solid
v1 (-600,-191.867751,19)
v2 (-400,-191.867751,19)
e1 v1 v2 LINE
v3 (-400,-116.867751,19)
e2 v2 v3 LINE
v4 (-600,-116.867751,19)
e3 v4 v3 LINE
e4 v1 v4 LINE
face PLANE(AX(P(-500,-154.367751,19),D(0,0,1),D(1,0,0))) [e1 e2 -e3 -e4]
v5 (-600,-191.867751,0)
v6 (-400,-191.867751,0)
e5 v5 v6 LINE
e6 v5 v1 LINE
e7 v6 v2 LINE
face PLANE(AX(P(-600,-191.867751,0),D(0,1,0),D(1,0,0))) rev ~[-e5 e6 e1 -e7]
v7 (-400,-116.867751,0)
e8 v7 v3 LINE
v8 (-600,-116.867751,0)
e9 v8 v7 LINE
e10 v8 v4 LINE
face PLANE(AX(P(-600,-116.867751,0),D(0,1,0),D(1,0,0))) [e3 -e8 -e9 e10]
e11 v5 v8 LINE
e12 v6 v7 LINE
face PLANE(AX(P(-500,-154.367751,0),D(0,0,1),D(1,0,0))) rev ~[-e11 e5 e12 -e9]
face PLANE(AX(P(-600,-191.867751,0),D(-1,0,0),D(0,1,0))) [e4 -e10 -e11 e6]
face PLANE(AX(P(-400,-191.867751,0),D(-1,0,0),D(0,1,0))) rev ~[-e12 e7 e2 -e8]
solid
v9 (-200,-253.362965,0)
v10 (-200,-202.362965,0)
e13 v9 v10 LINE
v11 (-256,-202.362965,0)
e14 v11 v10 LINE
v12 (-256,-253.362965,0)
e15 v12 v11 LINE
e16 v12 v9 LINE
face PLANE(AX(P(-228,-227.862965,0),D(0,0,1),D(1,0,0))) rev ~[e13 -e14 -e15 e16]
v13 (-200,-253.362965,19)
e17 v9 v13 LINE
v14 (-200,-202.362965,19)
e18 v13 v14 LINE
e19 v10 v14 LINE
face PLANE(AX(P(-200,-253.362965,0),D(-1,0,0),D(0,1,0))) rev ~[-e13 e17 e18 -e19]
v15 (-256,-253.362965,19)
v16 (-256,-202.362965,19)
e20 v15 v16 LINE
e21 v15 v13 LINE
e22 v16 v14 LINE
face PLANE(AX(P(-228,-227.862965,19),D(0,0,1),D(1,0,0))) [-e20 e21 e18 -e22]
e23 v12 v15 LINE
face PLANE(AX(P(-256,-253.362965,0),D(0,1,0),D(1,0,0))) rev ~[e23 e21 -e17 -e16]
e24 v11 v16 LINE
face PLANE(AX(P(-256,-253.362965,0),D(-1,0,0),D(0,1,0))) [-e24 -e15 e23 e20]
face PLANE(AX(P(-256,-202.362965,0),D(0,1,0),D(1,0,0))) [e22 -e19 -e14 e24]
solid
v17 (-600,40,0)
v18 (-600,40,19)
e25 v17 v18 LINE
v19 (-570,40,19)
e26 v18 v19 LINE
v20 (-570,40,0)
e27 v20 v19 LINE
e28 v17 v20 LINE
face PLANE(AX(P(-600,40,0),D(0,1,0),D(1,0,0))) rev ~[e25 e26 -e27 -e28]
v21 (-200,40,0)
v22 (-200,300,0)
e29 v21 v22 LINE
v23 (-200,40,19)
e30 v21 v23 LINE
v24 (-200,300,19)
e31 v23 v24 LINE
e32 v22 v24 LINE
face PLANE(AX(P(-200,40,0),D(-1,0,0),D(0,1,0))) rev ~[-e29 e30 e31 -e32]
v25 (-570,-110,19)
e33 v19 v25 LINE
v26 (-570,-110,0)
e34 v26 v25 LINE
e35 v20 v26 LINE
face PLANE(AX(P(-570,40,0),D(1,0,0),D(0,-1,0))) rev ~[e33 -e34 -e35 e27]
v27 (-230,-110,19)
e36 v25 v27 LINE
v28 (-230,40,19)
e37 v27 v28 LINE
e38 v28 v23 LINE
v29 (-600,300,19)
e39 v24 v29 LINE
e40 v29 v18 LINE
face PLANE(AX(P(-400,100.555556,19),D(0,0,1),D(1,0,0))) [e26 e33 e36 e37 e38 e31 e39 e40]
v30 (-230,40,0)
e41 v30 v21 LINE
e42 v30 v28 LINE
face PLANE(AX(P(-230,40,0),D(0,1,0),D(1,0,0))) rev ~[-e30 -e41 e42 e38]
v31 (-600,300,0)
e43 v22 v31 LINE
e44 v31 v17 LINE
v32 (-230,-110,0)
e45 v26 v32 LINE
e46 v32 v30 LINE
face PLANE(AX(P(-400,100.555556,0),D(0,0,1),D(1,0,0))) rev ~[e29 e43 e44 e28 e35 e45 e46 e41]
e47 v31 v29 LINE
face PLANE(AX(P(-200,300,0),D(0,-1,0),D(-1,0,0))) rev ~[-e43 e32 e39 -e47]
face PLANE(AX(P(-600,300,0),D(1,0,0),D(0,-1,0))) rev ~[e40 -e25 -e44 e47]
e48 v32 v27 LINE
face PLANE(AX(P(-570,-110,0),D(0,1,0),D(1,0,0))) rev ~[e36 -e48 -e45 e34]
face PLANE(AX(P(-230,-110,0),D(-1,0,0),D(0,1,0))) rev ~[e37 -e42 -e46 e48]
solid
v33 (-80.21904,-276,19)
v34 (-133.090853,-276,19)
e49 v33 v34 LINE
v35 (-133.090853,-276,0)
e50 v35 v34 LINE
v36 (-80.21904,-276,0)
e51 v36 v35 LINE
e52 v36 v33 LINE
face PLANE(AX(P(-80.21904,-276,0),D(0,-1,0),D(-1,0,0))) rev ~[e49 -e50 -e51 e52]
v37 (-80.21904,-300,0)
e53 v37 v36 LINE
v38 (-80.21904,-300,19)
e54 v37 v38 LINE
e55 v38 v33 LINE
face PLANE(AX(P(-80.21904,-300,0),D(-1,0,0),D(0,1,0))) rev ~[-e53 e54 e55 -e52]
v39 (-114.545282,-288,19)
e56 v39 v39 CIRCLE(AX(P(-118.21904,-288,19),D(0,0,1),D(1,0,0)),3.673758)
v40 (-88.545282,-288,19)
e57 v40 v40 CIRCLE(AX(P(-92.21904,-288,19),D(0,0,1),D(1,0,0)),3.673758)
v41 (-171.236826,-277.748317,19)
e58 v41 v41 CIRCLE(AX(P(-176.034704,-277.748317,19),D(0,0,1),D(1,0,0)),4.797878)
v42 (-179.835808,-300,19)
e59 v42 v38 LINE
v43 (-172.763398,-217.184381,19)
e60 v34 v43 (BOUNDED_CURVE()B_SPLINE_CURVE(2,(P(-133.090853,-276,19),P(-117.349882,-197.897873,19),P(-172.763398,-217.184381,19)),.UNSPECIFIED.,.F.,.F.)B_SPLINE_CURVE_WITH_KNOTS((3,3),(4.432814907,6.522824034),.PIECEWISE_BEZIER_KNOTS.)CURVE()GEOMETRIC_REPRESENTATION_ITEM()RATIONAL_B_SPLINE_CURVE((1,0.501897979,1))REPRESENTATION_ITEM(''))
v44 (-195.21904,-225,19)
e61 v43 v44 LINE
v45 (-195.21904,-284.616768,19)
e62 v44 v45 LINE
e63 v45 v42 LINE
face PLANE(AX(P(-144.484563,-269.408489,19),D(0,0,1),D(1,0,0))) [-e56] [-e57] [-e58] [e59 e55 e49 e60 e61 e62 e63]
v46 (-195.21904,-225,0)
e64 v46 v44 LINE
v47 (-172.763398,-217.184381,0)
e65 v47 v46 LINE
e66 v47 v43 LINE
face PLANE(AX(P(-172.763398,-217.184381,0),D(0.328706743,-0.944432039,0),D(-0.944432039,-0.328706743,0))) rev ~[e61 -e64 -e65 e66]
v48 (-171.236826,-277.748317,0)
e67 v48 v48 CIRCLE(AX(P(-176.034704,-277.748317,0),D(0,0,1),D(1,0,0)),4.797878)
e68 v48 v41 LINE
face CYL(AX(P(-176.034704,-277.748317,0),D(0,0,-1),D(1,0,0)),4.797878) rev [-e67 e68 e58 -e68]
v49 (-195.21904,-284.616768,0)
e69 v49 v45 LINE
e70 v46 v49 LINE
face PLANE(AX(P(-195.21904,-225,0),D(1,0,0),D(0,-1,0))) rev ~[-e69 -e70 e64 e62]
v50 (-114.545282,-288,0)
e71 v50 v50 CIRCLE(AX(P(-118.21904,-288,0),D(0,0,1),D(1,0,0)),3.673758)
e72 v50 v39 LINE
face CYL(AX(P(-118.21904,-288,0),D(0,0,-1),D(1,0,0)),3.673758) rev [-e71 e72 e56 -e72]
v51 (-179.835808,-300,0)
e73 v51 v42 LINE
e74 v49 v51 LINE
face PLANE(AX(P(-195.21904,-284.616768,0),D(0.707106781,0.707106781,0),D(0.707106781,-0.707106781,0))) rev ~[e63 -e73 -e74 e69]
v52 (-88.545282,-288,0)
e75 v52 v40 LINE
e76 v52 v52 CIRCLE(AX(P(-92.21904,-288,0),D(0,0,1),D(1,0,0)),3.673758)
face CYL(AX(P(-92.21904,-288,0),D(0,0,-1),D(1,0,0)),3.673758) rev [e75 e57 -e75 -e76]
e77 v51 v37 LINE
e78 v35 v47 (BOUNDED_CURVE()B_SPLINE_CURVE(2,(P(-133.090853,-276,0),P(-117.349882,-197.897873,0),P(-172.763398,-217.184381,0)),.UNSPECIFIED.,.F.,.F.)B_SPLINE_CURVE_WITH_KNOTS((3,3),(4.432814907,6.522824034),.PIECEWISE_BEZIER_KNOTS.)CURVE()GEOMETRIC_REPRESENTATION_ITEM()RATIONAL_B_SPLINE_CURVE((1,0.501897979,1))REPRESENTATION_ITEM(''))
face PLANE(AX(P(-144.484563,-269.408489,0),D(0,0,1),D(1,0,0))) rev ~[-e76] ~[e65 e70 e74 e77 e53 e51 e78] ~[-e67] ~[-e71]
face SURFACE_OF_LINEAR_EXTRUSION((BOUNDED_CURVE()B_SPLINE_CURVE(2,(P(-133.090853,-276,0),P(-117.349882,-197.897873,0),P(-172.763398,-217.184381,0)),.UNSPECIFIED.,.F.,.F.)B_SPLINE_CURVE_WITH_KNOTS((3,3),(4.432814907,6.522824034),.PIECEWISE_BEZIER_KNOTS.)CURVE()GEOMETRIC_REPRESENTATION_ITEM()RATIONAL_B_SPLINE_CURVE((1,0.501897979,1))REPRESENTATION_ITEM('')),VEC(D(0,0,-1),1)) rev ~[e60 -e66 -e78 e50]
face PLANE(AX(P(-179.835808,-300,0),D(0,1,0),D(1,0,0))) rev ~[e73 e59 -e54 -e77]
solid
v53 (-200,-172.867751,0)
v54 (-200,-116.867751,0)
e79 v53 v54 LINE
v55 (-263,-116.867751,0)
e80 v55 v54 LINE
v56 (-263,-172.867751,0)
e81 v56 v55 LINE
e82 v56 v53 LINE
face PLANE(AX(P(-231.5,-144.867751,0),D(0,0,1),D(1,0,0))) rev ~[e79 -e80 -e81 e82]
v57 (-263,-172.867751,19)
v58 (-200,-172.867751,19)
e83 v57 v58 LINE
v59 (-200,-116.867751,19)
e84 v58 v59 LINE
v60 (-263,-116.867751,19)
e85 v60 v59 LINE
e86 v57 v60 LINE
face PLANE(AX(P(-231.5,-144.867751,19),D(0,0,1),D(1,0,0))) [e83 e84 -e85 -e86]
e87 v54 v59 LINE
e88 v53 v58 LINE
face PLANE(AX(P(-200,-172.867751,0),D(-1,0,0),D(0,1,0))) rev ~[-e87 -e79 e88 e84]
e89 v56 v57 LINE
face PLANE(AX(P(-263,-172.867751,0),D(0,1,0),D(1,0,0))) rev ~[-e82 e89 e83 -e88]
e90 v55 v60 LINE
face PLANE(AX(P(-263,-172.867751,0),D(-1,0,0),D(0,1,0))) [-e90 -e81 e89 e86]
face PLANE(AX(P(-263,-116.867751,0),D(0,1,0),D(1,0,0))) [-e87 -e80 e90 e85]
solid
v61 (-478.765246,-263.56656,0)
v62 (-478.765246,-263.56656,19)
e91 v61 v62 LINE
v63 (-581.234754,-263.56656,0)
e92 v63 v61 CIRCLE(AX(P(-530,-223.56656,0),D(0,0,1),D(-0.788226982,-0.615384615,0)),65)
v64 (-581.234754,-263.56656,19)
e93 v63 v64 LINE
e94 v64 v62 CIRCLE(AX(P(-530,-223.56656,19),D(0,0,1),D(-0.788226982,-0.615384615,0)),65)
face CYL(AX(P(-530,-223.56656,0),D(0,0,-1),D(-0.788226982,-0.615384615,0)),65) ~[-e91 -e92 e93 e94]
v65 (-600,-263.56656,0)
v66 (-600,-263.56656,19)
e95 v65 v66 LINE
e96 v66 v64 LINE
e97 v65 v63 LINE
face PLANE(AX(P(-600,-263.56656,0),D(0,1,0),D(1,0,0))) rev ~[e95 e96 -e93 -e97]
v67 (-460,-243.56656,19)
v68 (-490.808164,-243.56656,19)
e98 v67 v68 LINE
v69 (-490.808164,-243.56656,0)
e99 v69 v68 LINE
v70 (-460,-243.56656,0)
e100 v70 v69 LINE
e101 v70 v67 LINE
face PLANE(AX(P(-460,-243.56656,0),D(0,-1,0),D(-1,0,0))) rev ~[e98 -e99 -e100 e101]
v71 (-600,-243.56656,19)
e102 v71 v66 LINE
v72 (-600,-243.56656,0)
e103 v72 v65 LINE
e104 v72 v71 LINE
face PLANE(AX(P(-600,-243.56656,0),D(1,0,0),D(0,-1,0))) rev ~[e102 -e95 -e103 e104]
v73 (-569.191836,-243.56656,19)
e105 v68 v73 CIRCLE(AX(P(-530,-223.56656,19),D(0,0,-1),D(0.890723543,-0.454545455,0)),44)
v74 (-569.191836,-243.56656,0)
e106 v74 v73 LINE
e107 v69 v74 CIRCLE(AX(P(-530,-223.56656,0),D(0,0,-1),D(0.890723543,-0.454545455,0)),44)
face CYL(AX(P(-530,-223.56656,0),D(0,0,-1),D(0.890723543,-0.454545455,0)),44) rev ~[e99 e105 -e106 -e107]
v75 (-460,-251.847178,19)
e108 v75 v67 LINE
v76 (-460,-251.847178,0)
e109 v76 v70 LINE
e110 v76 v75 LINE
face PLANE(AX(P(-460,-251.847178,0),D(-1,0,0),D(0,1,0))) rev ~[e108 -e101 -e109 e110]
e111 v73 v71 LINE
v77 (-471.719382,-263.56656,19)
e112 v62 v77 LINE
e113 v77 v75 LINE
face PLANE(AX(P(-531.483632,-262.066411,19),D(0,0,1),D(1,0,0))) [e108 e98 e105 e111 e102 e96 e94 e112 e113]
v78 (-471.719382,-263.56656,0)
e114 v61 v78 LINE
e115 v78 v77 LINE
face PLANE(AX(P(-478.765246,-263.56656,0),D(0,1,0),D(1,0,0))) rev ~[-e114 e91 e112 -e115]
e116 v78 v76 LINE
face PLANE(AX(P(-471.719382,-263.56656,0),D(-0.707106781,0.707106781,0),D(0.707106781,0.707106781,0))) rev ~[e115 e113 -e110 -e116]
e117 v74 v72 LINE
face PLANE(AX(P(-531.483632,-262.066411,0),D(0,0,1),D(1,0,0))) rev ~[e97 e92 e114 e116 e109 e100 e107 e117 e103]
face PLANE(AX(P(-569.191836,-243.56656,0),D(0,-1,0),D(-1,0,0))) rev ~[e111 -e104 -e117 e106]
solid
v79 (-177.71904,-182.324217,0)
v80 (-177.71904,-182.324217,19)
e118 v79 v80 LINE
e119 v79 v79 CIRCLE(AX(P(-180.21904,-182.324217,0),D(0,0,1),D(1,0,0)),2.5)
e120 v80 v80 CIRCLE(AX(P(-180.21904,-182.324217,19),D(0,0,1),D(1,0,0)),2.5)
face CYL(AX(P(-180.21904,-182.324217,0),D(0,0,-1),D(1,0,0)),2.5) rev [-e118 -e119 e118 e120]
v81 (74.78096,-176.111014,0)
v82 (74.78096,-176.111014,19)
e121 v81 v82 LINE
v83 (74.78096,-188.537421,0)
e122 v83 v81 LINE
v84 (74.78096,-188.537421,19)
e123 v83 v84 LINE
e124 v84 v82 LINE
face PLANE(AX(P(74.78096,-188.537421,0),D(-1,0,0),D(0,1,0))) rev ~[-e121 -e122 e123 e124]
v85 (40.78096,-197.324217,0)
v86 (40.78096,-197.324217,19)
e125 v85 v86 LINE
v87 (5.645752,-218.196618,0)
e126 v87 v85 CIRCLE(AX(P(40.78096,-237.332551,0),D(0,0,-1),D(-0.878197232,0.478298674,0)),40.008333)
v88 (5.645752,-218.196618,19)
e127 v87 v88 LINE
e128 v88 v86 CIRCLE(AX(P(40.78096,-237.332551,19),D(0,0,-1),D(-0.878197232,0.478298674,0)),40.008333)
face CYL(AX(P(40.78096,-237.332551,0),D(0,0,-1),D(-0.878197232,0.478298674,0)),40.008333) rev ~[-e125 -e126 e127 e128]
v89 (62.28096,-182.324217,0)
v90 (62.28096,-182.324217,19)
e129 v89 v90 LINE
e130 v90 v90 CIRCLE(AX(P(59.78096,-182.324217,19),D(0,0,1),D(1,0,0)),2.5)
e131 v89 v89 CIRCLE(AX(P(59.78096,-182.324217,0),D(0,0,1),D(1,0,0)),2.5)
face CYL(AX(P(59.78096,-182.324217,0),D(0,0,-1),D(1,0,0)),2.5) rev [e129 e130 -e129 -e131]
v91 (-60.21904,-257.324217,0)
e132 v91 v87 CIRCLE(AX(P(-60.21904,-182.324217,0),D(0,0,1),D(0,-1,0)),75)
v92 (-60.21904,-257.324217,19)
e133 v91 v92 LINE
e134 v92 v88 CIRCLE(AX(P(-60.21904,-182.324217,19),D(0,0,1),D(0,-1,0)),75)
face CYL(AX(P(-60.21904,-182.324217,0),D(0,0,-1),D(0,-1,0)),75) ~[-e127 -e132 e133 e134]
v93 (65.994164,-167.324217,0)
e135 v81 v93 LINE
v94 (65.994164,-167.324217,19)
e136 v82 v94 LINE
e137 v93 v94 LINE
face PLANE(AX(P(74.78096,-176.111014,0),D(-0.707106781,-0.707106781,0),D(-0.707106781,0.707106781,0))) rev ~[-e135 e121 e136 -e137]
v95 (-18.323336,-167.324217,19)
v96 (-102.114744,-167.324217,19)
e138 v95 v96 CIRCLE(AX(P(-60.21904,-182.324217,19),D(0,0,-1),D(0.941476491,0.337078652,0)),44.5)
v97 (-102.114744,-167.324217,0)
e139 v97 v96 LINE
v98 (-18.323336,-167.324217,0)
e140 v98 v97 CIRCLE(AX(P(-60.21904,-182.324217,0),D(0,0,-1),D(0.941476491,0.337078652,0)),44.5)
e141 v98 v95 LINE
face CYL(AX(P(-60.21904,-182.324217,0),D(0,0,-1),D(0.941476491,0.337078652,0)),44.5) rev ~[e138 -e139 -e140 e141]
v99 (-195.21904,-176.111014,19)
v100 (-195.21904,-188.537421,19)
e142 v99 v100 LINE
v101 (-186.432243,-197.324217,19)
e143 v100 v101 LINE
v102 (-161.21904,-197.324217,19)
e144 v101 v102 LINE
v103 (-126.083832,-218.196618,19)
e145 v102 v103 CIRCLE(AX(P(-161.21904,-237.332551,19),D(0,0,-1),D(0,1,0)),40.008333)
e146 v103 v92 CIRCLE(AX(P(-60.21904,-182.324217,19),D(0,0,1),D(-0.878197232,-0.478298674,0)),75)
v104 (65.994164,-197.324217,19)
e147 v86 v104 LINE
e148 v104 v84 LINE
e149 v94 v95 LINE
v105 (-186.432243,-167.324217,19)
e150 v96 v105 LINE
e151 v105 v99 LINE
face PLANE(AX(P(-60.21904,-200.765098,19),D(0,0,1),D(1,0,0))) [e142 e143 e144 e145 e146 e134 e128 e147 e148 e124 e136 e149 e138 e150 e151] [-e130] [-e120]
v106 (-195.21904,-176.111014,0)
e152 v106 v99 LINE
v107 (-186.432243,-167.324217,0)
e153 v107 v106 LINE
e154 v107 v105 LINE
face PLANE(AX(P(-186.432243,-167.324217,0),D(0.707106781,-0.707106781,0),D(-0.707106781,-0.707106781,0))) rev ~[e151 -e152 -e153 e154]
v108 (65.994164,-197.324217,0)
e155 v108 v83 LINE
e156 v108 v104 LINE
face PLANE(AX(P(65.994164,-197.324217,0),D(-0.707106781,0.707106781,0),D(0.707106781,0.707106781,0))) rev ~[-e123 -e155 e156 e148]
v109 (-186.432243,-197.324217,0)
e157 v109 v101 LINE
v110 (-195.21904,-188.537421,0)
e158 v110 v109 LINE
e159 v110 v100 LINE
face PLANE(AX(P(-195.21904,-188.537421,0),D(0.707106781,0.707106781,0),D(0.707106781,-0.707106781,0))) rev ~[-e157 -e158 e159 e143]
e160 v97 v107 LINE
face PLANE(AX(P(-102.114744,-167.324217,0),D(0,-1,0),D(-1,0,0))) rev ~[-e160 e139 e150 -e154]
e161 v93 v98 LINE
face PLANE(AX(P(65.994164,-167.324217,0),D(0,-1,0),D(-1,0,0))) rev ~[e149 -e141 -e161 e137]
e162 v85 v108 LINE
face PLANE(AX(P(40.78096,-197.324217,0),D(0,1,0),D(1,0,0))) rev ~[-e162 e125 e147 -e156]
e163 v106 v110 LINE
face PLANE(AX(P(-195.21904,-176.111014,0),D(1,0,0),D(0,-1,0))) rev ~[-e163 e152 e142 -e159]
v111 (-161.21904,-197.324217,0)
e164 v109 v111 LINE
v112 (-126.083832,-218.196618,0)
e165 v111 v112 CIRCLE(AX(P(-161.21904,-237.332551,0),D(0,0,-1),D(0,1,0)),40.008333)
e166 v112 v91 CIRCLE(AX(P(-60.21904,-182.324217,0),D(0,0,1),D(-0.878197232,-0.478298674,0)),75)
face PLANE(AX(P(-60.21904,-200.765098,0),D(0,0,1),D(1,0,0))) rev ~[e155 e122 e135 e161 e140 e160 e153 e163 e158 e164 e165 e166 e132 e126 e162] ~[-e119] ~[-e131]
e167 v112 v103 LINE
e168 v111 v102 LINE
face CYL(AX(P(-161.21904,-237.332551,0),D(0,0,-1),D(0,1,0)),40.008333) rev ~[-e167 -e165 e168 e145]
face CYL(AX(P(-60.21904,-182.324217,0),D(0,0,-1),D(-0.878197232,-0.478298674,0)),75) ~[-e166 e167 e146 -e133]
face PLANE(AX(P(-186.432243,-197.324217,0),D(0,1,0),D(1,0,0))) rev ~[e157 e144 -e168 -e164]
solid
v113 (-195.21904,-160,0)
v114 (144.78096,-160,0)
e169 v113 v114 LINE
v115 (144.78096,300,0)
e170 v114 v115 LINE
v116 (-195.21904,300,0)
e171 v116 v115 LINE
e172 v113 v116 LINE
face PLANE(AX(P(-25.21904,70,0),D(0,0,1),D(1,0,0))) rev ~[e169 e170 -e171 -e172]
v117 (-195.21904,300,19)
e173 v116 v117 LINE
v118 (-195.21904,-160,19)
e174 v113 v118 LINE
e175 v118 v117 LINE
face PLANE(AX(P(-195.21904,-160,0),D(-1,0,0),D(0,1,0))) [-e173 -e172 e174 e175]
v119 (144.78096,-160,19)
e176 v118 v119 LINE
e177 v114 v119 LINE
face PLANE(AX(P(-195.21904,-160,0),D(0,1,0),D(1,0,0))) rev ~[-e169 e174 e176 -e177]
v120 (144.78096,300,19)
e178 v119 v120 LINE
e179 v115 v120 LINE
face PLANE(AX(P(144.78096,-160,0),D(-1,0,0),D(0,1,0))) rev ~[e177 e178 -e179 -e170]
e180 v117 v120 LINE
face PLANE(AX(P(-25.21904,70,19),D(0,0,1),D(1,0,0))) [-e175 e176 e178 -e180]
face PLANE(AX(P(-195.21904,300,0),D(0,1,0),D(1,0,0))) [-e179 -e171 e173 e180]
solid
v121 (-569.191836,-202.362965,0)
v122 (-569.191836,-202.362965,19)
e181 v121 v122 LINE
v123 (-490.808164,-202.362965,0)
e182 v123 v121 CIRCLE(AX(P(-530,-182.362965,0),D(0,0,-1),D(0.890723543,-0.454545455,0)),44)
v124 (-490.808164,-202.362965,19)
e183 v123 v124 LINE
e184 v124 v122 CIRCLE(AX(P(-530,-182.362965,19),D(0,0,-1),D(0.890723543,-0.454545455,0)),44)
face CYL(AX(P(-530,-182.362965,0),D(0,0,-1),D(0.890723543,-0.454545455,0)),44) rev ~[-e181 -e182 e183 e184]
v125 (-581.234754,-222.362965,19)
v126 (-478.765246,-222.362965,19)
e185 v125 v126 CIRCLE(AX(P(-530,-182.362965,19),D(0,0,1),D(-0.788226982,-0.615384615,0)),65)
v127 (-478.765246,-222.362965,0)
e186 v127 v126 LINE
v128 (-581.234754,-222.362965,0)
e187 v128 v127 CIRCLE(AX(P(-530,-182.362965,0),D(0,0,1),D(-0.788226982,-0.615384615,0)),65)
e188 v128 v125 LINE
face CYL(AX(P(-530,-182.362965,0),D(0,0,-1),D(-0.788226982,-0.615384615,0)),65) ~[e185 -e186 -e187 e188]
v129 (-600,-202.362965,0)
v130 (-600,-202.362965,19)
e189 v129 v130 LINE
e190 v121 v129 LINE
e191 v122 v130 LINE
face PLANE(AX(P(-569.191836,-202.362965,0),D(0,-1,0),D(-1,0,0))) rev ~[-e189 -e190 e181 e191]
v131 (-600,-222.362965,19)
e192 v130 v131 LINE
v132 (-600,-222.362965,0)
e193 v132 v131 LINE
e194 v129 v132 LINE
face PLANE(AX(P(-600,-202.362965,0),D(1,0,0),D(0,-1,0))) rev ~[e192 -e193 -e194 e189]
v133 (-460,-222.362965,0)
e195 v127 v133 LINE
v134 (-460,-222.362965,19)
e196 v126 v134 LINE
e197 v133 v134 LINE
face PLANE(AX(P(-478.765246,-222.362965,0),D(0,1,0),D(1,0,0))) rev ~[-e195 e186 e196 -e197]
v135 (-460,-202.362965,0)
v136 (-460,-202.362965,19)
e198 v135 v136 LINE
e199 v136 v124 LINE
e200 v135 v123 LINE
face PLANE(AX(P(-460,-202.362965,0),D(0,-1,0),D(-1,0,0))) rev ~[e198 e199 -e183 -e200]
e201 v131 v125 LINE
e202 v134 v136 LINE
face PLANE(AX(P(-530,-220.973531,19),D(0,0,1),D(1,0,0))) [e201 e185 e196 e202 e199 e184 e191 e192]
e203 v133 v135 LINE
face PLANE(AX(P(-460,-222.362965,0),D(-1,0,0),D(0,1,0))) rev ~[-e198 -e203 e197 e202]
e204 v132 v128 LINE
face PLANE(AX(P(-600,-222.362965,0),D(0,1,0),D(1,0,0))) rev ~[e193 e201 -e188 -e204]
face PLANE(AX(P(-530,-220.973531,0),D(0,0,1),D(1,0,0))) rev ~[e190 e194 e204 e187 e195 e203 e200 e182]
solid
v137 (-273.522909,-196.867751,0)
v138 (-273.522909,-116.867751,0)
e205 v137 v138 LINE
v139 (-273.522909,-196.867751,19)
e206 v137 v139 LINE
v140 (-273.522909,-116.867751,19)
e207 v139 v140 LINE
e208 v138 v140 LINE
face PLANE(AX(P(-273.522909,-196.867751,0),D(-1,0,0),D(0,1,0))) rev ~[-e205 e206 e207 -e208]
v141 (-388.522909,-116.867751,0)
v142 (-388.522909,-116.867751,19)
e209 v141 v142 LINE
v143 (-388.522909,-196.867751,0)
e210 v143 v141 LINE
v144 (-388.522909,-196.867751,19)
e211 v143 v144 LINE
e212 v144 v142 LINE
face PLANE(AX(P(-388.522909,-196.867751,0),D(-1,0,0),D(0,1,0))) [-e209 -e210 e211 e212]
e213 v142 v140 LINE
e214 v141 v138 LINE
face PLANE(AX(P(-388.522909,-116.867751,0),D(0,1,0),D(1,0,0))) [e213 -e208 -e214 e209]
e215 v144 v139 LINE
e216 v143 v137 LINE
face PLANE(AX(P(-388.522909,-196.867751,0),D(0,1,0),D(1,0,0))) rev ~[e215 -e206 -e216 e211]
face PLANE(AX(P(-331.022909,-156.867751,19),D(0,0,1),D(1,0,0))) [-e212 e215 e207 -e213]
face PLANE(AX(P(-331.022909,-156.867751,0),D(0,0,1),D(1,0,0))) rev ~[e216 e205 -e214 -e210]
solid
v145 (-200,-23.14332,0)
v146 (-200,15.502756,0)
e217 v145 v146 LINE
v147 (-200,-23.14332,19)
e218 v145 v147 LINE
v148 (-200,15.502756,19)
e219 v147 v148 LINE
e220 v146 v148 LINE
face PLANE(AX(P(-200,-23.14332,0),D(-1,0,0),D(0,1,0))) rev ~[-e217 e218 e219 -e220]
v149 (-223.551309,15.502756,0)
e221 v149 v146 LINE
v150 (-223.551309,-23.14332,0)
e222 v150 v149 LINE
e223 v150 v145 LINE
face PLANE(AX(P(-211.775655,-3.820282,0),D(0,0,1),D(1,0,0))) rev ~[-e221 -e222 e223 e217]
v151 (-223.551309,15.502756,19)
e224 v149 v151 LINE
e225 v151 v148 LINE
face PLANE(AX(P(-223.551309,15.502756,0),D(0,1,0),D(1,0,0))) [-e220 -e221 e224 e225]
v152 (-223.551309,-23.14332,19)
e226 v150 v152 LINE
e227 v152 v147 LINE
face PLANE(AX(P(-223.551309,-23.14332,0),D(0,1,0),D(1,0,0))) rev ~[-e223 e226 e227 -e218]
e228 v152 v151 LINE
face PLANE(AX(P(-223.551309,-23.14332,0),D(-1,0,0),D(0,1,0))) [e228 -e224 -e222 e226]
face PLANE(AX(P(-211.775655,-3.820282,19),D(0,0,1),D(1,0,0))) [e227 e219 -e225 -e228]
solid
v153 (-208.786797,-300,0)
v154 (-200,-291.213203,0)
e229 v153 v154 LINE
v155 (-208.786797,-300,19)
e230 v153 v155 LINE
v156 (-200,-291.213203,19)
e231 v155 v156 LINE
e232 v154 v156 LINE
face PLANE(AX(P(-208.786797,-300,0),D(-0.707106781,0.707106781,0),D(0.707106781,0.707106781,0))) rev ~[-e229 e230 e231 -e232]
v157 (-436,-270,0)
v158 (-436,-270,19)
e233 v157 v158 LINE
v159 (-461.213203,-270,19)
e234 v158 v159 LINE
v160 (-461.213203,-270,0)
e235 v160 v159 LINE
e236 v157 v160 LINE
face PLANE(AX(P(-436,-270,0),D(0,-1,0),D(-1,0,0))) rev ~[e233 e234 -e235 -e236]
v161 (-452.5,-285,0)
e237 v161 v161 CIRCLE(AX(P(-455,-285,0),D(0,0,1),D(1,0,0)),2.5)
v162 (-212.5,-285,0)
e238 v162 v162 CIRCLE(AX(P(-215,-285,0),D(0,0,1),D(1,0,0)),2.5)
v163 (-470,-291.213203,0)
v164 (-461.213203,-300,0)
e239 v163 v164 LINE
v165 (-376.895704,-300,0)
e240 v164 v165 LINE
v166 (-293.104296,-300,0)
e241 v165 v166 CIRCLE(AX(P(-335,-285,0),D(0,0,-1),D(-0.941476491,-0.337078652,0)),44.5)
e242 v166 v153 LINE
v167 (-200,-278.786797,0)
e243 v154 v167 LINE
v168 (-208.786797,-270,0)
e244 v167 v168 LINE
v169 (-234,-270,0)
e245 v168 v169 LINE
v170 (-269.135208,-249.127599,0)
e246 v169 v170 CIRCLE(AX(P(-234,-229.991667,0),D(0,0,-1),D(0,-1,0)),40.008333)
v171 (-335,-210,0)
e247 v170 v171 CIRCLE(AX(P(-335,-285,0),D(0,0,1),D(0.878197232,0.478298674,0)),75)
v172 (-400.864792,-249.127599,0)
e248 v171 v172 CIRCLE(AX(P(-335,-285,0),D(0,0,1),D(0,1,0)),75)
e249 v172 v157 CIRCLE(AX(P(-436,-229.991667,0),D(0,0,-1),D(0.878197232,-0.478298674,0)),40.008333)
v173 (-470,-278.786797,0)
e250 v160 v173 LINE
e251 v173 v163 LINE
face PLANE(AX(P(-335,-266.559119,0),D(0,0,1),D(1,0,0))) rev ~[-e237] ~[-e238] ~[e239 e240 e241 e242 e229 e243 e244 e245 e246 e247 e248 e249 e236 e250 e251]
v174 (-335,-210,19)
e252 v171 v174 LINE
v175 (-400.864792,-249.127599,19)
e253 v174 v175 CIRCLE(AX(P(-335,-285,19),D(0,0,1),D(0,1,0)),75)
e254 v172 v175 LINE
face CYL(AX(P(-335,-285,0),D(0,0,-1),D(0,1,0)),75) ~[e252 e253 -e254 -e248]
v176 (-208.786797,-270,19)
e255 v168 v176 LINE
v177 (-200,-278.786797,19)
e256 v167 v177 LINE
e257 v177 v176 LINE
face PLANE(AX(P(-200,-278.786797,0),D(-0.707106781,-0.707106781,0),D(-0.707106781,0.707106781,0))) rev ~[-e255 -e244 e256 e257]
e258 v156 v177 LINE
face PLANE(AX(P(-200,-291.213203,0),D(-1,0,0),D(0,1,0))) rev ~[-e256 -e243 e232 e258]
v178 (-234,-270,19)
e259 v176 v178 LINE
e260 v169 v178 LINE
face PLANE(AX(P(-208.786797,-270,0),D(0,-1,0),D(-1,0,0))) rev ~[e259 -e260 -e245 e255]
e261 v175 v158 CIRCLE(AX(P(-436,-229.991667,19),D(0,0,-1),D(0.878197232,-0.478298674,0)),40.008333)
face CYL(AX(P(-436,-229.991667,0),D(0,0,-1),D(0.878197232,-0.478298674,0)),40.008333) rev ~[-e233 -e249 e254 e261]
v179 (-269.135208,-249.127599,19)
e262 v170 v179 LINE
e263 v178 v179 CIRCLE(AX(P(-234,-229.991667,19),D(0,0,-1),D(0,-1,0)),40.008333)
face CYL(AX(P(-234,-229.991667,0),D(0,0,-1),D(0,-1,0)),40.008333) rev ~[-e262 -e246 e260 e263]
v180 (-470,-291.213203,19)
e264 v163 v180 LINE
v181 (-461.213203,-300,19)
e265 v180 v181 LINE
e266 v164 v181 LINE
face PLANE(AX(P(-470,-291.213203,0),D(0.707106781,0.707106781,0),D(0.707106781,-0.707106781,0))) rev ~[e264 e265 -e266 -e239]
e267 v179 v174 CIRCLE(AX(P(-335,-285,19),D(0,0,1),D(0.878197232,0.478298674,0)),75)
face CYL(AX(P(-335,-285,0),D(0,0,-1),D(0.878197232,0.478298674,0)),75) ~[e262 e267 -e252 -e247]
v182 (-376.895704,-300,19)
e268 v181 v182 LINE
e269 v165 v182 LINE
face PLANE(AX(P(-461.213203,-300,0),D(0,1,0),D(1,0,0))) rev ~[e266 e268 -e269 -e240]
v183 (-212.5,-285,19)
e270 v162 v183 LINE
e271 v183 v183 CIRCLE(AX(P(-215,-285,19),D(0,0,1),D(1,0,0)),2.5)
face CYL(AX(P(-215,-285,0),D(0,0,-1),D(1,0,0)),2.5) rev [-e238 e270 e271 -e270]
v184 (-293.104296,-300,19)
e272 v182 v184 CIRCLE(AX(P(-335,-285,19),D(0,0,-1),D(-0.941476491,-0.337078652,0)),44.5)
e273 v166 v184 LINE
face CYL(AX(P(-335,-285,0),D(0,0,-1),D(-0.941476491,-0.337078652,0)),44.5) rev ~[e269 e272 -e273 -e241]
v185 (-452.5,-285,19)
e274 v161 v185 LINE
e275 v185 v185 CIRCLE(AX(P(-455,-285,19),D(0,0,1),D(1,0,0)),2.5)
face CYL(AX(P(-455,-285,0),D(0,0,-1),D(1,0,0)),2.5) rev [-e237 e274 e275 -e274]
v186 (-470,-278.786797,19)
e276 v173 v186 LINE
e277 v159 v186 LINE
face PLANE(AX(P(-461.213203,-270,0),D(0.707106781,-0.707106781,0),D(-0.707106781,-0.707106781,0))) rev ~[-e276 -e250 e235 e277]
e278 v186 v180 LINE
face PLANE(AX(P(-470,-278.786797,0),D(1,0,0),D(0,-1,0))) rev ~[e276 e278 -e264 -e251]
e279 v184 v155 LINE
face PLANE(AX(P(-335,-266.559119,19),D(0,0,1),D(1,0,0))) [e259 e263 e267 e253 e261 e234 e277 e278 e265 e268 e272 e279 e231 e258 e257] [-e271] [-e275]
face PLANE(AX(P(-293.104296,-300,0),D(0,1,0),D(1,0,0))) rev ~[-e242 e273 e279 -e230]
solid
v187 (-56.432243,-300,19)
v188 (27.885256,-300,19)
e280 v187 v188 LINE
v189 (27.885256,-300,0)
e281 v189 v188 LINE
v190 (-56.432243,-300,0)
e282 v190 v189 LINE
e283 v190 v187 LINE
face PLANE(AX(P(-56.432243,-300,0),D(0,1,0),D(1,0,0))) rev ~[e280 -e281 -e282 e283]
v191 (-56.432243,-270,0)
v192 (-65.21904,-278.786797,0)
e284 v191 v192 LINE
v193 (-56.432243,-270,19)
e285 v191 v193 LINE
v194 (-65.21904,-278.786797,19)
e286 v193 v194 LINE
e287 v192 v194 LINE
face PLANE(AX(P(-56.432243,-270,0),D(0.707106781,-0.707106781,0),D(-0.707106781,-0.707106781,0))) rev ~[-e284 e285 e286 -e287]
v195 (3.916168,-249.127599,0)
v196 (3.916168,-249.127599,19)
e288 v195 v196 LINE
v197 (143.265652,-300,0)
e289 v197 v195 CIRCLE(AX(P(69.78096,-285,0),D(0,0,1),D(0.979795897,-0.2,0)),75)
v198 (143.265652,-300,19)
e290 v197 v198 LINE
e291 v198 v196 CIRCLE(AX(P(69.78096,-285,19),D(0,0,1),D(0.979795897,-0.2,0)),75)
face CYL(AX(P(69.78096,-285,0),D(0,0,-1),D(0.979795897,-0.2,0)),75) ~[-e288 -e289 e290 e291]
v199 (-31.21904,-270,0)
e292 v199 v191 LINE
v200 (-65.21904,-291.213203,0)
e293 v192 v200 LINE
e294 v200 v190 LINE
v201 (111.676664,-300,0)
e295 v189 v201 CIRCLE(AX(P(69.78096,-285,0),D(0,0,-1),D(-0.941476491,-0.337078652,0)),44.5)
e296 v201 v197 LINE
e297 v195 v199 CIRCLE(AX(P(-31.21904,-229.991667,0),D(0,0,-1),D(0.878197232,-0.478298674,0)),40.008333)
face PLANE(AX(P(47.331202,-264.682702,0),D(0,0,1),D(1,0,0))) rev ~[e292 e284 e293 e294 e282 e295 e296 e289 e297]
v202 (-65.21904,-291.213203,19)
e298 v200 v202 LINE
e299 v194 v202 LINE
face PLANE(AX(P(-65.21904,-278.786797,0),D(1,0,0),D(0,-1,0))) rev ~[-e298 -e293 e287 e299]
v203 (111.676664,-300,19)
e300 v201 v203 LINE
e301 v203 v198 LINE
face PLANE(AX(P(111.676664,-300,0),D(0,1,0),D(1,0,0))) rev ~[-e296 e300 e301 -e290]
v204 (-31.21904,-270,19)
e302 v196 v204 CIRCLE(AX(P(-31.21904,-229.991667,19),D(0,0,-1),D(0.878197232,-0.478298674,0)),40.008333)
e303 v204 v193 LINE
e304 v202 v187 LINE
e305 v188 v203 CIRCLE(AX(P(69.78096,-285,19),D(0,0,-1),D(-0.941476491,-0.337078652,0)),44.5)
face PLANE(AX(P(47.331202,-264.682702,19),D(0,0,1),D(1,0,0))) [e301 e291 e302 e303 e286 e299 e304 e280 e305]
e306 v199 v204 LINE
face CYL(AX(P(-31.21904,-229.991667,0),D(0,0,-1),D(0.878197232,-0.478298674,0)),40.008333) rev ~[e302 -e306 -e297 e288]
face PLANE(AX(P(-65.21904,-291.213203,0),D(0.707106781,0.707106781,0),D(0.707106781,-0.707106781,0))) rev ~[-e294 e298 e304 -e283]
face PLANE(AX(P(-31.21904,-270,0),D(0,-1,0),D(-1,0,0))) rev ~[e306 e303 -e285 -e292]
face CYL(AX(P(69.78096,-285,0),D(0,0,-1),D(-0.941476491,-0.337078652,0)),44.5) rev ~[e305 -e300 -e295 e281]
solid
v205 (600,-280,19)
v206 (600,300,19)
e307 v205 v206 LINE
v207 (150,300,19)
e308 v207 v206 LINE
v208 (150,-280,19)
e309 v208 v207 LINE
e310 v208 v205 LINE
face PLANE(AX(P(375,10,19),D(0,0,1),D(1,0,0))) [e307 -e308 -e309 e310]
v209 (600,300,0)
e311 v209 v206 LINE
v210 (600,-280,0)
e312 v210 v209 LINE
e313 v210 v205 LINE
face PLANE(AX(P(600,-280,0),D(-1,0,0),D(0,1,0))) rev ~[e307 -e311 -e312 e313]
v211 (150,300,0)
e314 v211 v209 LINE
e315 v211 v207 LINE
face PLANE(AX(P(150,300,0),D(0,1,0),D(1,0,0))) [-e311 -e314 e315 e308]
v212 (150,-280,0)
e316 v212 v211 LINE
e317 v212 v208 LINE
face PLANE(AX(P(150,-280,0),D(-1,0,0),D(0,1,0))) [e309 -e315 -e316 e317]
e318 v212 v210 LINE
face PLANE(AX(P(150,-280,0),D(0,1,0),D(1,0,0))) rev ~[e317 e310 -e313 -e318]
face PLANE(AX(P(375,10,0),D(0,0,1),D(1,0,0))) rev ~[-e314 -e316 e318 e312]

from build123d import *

# Parameters (mm, degrees)
F2_DEPTH = 19
F0_W     = 340
F0_H     = 460
F0_W_2   = 450
F0_H_2   = 580
F1_W     = 200
F1_H     = 75
F1_W_2   = 115
F1_H_2   = 80
F1_W_3   = 63
F1_H_3   = 56
F1_W_4   = 23.5513094543
F1_H_4   = 38.6460761462
F1_R     = 2.5
F1_W_5   = 56
F1_H_5   = 51
F1_R_2   = 4.7978778686
F1_R_3   = 3.6737575136


with BuildPart() as f2:
    # F0 (on Top) → F2 (new body)
    with BuildSketch(Plane.XY):
        Polygon((-600, 300), (-600, 40), (-570, 40), (-570, -110), (-230, -110), (-230, 40), (-200, 40), (-200, 300), align=None)
    extrude(amount=F2_DEPTH)


with BuildPart() as f2b:
    # F0 (on Top) → F2, piece 2 (new body)
    with BuildSketch(Plane.XY):
        with Locations((-25.219039917, 70)):
            Rectangle(F0_W, F0_H)
    extrude(amount=F2_DEPTH)


with BuildPart() as f2c:
    # F0 (on Top) → F2, piece 3 (new body)
    with BuildSketch(Plane.XY):
        with Locations((375, 10)):
            Rectangle(F0_W_2, F0_H_2)
    extrude(amount=F2_DEPTH)


with BuildPart() as f2d:
    # F1 (on Top) → F2, piece 4 (new body)
    with BuildSketch(Plane.XY):
        with Locations((-500, -154.3677505483)):
            Rectangle(F1_W, F1_H)
    extrude(amount=F2_DEPTH)


with BuildPart() as f2e:
    # F1 (on Top) → F2, piece 5 (new body)
    with BuildSketch(Plane.XY):
        with Locations((-331.0229089997, -156.8677505483)):
            Rectangle(F1_W_2, F1_H_2)
    extrude(amount=F2_DEPTH)


with BuildPart() as f2f:
    # F1 (on Top) → F2, piece 6 (new body)
    with BuildSketch(Plane.XY):
        with Locations((-231.5, -144.8677505483)):
            Rectangle(F1_W_3, F1_H_3)
    extrude(amount=F2_DEPTH)


with BuildPart() as f2g:
    # F1 (on Top) → F2, piece 7 (new body)
    with BuildSketch(Plane.XY):
        with Locations((-211.7756547271, -3.8202817862)):
            Rectangle(F1_W_4, F1_H_4)
    extrude(amount=F2_DEPTH)


with BuildPart() as f2h:
    # F1 (on Top) → F2, piece 8 (new body)
    with BuildSketch(Plane.XY):
        with BuildLine():
            Line((-461.2132034356, -270), (-470, -278.7867965644))
            Line((-470, -278.7867965644), (-470, -291.2132034356))
            Line((-470, -291.2132034356), (-461.2132034356, -300))
            Line((-461.2132034356, -300), (-376.895703837, -300))
            ThreePointArc((-376.895703837, -300), (-335, -240.5), (-293.104296163, -300))
            Line((-293.104296163, -300), (-208.7867965644, -300))
            Line((-208.7867965644, -300), (-200, -291.2132034356))
            Line((-200, -291.2132034356), (-200, -278.7867965644))
            Line((-200, -278.7867965644), (-208.7867965644, -270))
            Line((-208.7867965644, -270), (-234, -270))
            ThreePointArc((-234, -270), (-254.4336726838, -264.3883490178), (-269.1352075937, -249.1275994493))
            ThreePointArc((-269.1352075937, -249.1275994493), (-296.6948439587, -220.5196539971), (-335, -210))
            ThreePointArc((-335, -210), (-373.3051560413, -220.5196539971), (-400.8647924063, -249.1275994493))
            ThreePointArc((-400.8647924063, -249.1275994493), (-415.5663273162, -264.3883490178), (-436, -270))
            Line((-436, -270), (-461.2132034356, -270))
        make_face()
        with Locations((-455, -285)):
            Circle(F1_R, mode=Mode.SUBTRACT)
        with Locations((-215, -285)):
            Circle(F1_R, mode=Mode.SUBTRACT)
    extrude(amount=F2_DEPTH)


with BuildPart() as f2i:
    # F1 (on Top) → F2, piece 9 (new body)
    with BuildSketch(Plane.XY):
        with Locations((-228, -227.8629653454)):
            Rectangle(F1_W_5, F1_H_5)
    extrude(amount=F2_DEPTH)


with BuildPart() as f2j:
    # F1 (on Top) → F2, piece 10 (new body)
    with BuildSketch(Plane.XY):
        with BuildLine():
            ThreePointArc((-490.8081641155, -202.3629653454), (-530, -226.3629653454), (-569.1918358845, -202.3629653454))
            Line((-569.1918358845, -202.3629653454), (-600, -202.3629653454))
            Line((-600, -202.3629653454), (-600, -222.3629653454))
            Line((-600, -222.3629653454), (-581.2347538298, -222.3629653454))
            ThreePointArc((-581.2347538298, -222.3629653454), (-530, -247.3629653454), (-478.7652461702, -222.3629653454))
            Line((-478.7652461702, -222.3629653454), (-460, -222.3629653454))
            Line((-460, -222.3629653454), (-460, -202.3629653454))
            Line((-460, -202.3629653454), (-490.8081641155, -202.3629653454))
        make_face()
    extrude(amount=F2_DEPTH)


with BuildPart() as f2k:
    # F1 (on Top) → F2, piece 11 (new body)
    with BuildSketch(Plane.XY):
        with BuildLine():
            ThreePointArc((-490.8081641155, -243.5665595531), (-530, -267.5665595531), (-569.1918358845, -243.5665595531))
            Line((-569.1918358845, -243.5665595531), (-600, -243.5665595531))
            Line((-600, -243.5665595531), (-600, -263.5665595531))
            Line((-600, -263.5665595531), (-581.2347538298, -263.5665595531))
            ThreePointArc((-581.2347538298, -263.5665595531), (-530, -288.5665595531), (-478.7652461702, -263.5665595531))
            Line((-478.7652461702, -263.5665595531), (-471.7193818092, -263.5665595531))
            Line((-471.7193818092, -263.5665595531), (-460, -251.8471777439))
            Line((-460, -251.8471777439), (-460, -243.5665595531))
            Line((-460, -243.5665595531), (-490.8081641155, -243.5665595531))
        make_face()
    extrude(amount=F2_DEPTH)


with BuildPart() as f2l:
    # F1 (on Top) → F2, piece 12 (new body)
    with BuildSketch(Plane.XY):
        with BuildLine():
            Line((65.9941635186, -197.3242174783), (74.780960083, -188.5374209139))
            Line((74.780960083, -188.5374209139), (74.780960083, -176.1110140427))
            Line((74.780960083, -176.1110140427), (65.9941635186, -167.3242174783))
            Line((65.9941635186, -167.3242174783), (-18.32333608, -167.3242174783))
            ThreePointArc((-18.32333608, -167.3242174783), (-60.219039917, -226.8242174783), (-102.114743754, -167.3242174783))
            Line((-102.114743754, -167.3242174783), (-186.4322433526, -167.3242174783))
            Line((-186.4322433526, -167.3242174783), (-195.219039917, -176.1110140427))
            Line((-195.219039917, -176.1110140427), (-195.219039917, -188.5374209139))
            Line((-195.219039917, -188.5374209139), (-186.4322433526, -197.3242174783))
            Line((-186.4322433526, -197.3242174783), (-161.219039917, -197.3242174783))
            ThreePointArc((-161.219039917, -197.3242174783), (-140.7853672332, -202.9358684605), (-126.0838323233, -218.196618029))
            ThreePointArc((-126.0838323233, -218.196618029), (-98.5241959583, -246.8045634812), (-60.219039917, -257.3242174783))
            ThreePointArc((-60.219039917, -257.3242174783), (-21.9138838757, -246.8045634812), (5.6457524894, -218.196618029))
            ThreePointArc((5.6457524894, -218.196618029), (20.3472873992, -202.9358684605), (40.780960083, -197.3242174783))
            Line((40.780960083, -197.3242174783), (65.9941635186, -197.3242174783))
        make_face()
        with Locations((-180.219039917, -182.3242174783)):
            Circle(F1_R, mode=Mode.SUBTRACT)
        with Locations((59.780960083, -182.3242174783)):
            Circle(F1_R, mode=Mode.SUBTRACT)
    extrude(amount=F2_DEPTH)


with BuildPart() as f2m:
    # F1 (on Top) → F2, piece 13 (new body)
    with BuildSketch(Plane.XY):
        with BuildLine():
            ThreePointArc((3.9161676767, -249.1275994493), (-10.7853672332, -264.3883490178), (-31.219039917, -270))
            Line((-31.219039917, -270), (-56.4322433526, -270))
            Line((-56.4322433526, -270), (-65.219039917, -278.7867965644))
            Line((-65.219039917, -278.7867965644), (-65.219039917, -291.2132034356))
            Line((-65.219039917, -291.2132034356), (-56.4322433526, -300))
            Line((-56.4322433526, -300), (27.885256246, -300))
            ThreePointArc((27.885256246, -300), (69.780960083, -240.5), (111.67666392, -300))
            Line((111.67666392, -300), (143.2656523665, -300))
            ThreePointArc((143.2656523665, -300), (95.5009134846, -214.5480021787), (3.9161676767, -249.1275994493))
        make_face()
    extrude(amount=F2_DEPTH)


with BuildPart() as f2n:
    # F1 (on Top) → F2, piece 14 (new body)
    with BuildSketch(Plane.XY):
        with BuildLine():
            Line((-195.219039917, -284.6167683601), (-179.8358082771, -300))
            Line((-179.8358082771, -300), (-80.219039917, -300))
            Line((-80.219039917, -300), (-80.219039917, -276))
            Line((-80.219039917, -276), (-133.0908532607, -276))
            add(Edge.make_bspline(
                [(-133.0908532607, -276), (-117.3498821546, -197.8978728169), (-172.7633978507, -217.1843810214)],
                knots=[4.432814907, 4.432814907, 4.432814907, 6.5228240339, 6.5228240339, 6.5228240339], degree=2, weights=[1, 0.5018979792, 1]))
            Line((-172.7633978507, -217.1843810214), (-195.219039917, -225))
            Line((-195.219039917, -225), (-195.219039917, -284.6167683601))
        make_face()
        with Locations((-176.0347038507, -277.7483165264)):
            Circle(F1_R_2, mode=Mode.SUBTRACT)
        with Locations((-118.219039917, -288)):
            Circle(F1_R_3, mode=Mode.SUBTRACT)
        with Locations((-92.219039917, -288)):
            Circle(F1_R_3, mode=Mode.SUBTRACT)
    extrude(amount=F2_DEPTH)


solid = Compound([f2.part, f2b.part, f2c.part, f2d.part, f2e.part, f2f.part, f2g.part, f2h.part, f2i.part, f2j.part, f2k.part, f2l.part, f2m.part, f2n.part])
